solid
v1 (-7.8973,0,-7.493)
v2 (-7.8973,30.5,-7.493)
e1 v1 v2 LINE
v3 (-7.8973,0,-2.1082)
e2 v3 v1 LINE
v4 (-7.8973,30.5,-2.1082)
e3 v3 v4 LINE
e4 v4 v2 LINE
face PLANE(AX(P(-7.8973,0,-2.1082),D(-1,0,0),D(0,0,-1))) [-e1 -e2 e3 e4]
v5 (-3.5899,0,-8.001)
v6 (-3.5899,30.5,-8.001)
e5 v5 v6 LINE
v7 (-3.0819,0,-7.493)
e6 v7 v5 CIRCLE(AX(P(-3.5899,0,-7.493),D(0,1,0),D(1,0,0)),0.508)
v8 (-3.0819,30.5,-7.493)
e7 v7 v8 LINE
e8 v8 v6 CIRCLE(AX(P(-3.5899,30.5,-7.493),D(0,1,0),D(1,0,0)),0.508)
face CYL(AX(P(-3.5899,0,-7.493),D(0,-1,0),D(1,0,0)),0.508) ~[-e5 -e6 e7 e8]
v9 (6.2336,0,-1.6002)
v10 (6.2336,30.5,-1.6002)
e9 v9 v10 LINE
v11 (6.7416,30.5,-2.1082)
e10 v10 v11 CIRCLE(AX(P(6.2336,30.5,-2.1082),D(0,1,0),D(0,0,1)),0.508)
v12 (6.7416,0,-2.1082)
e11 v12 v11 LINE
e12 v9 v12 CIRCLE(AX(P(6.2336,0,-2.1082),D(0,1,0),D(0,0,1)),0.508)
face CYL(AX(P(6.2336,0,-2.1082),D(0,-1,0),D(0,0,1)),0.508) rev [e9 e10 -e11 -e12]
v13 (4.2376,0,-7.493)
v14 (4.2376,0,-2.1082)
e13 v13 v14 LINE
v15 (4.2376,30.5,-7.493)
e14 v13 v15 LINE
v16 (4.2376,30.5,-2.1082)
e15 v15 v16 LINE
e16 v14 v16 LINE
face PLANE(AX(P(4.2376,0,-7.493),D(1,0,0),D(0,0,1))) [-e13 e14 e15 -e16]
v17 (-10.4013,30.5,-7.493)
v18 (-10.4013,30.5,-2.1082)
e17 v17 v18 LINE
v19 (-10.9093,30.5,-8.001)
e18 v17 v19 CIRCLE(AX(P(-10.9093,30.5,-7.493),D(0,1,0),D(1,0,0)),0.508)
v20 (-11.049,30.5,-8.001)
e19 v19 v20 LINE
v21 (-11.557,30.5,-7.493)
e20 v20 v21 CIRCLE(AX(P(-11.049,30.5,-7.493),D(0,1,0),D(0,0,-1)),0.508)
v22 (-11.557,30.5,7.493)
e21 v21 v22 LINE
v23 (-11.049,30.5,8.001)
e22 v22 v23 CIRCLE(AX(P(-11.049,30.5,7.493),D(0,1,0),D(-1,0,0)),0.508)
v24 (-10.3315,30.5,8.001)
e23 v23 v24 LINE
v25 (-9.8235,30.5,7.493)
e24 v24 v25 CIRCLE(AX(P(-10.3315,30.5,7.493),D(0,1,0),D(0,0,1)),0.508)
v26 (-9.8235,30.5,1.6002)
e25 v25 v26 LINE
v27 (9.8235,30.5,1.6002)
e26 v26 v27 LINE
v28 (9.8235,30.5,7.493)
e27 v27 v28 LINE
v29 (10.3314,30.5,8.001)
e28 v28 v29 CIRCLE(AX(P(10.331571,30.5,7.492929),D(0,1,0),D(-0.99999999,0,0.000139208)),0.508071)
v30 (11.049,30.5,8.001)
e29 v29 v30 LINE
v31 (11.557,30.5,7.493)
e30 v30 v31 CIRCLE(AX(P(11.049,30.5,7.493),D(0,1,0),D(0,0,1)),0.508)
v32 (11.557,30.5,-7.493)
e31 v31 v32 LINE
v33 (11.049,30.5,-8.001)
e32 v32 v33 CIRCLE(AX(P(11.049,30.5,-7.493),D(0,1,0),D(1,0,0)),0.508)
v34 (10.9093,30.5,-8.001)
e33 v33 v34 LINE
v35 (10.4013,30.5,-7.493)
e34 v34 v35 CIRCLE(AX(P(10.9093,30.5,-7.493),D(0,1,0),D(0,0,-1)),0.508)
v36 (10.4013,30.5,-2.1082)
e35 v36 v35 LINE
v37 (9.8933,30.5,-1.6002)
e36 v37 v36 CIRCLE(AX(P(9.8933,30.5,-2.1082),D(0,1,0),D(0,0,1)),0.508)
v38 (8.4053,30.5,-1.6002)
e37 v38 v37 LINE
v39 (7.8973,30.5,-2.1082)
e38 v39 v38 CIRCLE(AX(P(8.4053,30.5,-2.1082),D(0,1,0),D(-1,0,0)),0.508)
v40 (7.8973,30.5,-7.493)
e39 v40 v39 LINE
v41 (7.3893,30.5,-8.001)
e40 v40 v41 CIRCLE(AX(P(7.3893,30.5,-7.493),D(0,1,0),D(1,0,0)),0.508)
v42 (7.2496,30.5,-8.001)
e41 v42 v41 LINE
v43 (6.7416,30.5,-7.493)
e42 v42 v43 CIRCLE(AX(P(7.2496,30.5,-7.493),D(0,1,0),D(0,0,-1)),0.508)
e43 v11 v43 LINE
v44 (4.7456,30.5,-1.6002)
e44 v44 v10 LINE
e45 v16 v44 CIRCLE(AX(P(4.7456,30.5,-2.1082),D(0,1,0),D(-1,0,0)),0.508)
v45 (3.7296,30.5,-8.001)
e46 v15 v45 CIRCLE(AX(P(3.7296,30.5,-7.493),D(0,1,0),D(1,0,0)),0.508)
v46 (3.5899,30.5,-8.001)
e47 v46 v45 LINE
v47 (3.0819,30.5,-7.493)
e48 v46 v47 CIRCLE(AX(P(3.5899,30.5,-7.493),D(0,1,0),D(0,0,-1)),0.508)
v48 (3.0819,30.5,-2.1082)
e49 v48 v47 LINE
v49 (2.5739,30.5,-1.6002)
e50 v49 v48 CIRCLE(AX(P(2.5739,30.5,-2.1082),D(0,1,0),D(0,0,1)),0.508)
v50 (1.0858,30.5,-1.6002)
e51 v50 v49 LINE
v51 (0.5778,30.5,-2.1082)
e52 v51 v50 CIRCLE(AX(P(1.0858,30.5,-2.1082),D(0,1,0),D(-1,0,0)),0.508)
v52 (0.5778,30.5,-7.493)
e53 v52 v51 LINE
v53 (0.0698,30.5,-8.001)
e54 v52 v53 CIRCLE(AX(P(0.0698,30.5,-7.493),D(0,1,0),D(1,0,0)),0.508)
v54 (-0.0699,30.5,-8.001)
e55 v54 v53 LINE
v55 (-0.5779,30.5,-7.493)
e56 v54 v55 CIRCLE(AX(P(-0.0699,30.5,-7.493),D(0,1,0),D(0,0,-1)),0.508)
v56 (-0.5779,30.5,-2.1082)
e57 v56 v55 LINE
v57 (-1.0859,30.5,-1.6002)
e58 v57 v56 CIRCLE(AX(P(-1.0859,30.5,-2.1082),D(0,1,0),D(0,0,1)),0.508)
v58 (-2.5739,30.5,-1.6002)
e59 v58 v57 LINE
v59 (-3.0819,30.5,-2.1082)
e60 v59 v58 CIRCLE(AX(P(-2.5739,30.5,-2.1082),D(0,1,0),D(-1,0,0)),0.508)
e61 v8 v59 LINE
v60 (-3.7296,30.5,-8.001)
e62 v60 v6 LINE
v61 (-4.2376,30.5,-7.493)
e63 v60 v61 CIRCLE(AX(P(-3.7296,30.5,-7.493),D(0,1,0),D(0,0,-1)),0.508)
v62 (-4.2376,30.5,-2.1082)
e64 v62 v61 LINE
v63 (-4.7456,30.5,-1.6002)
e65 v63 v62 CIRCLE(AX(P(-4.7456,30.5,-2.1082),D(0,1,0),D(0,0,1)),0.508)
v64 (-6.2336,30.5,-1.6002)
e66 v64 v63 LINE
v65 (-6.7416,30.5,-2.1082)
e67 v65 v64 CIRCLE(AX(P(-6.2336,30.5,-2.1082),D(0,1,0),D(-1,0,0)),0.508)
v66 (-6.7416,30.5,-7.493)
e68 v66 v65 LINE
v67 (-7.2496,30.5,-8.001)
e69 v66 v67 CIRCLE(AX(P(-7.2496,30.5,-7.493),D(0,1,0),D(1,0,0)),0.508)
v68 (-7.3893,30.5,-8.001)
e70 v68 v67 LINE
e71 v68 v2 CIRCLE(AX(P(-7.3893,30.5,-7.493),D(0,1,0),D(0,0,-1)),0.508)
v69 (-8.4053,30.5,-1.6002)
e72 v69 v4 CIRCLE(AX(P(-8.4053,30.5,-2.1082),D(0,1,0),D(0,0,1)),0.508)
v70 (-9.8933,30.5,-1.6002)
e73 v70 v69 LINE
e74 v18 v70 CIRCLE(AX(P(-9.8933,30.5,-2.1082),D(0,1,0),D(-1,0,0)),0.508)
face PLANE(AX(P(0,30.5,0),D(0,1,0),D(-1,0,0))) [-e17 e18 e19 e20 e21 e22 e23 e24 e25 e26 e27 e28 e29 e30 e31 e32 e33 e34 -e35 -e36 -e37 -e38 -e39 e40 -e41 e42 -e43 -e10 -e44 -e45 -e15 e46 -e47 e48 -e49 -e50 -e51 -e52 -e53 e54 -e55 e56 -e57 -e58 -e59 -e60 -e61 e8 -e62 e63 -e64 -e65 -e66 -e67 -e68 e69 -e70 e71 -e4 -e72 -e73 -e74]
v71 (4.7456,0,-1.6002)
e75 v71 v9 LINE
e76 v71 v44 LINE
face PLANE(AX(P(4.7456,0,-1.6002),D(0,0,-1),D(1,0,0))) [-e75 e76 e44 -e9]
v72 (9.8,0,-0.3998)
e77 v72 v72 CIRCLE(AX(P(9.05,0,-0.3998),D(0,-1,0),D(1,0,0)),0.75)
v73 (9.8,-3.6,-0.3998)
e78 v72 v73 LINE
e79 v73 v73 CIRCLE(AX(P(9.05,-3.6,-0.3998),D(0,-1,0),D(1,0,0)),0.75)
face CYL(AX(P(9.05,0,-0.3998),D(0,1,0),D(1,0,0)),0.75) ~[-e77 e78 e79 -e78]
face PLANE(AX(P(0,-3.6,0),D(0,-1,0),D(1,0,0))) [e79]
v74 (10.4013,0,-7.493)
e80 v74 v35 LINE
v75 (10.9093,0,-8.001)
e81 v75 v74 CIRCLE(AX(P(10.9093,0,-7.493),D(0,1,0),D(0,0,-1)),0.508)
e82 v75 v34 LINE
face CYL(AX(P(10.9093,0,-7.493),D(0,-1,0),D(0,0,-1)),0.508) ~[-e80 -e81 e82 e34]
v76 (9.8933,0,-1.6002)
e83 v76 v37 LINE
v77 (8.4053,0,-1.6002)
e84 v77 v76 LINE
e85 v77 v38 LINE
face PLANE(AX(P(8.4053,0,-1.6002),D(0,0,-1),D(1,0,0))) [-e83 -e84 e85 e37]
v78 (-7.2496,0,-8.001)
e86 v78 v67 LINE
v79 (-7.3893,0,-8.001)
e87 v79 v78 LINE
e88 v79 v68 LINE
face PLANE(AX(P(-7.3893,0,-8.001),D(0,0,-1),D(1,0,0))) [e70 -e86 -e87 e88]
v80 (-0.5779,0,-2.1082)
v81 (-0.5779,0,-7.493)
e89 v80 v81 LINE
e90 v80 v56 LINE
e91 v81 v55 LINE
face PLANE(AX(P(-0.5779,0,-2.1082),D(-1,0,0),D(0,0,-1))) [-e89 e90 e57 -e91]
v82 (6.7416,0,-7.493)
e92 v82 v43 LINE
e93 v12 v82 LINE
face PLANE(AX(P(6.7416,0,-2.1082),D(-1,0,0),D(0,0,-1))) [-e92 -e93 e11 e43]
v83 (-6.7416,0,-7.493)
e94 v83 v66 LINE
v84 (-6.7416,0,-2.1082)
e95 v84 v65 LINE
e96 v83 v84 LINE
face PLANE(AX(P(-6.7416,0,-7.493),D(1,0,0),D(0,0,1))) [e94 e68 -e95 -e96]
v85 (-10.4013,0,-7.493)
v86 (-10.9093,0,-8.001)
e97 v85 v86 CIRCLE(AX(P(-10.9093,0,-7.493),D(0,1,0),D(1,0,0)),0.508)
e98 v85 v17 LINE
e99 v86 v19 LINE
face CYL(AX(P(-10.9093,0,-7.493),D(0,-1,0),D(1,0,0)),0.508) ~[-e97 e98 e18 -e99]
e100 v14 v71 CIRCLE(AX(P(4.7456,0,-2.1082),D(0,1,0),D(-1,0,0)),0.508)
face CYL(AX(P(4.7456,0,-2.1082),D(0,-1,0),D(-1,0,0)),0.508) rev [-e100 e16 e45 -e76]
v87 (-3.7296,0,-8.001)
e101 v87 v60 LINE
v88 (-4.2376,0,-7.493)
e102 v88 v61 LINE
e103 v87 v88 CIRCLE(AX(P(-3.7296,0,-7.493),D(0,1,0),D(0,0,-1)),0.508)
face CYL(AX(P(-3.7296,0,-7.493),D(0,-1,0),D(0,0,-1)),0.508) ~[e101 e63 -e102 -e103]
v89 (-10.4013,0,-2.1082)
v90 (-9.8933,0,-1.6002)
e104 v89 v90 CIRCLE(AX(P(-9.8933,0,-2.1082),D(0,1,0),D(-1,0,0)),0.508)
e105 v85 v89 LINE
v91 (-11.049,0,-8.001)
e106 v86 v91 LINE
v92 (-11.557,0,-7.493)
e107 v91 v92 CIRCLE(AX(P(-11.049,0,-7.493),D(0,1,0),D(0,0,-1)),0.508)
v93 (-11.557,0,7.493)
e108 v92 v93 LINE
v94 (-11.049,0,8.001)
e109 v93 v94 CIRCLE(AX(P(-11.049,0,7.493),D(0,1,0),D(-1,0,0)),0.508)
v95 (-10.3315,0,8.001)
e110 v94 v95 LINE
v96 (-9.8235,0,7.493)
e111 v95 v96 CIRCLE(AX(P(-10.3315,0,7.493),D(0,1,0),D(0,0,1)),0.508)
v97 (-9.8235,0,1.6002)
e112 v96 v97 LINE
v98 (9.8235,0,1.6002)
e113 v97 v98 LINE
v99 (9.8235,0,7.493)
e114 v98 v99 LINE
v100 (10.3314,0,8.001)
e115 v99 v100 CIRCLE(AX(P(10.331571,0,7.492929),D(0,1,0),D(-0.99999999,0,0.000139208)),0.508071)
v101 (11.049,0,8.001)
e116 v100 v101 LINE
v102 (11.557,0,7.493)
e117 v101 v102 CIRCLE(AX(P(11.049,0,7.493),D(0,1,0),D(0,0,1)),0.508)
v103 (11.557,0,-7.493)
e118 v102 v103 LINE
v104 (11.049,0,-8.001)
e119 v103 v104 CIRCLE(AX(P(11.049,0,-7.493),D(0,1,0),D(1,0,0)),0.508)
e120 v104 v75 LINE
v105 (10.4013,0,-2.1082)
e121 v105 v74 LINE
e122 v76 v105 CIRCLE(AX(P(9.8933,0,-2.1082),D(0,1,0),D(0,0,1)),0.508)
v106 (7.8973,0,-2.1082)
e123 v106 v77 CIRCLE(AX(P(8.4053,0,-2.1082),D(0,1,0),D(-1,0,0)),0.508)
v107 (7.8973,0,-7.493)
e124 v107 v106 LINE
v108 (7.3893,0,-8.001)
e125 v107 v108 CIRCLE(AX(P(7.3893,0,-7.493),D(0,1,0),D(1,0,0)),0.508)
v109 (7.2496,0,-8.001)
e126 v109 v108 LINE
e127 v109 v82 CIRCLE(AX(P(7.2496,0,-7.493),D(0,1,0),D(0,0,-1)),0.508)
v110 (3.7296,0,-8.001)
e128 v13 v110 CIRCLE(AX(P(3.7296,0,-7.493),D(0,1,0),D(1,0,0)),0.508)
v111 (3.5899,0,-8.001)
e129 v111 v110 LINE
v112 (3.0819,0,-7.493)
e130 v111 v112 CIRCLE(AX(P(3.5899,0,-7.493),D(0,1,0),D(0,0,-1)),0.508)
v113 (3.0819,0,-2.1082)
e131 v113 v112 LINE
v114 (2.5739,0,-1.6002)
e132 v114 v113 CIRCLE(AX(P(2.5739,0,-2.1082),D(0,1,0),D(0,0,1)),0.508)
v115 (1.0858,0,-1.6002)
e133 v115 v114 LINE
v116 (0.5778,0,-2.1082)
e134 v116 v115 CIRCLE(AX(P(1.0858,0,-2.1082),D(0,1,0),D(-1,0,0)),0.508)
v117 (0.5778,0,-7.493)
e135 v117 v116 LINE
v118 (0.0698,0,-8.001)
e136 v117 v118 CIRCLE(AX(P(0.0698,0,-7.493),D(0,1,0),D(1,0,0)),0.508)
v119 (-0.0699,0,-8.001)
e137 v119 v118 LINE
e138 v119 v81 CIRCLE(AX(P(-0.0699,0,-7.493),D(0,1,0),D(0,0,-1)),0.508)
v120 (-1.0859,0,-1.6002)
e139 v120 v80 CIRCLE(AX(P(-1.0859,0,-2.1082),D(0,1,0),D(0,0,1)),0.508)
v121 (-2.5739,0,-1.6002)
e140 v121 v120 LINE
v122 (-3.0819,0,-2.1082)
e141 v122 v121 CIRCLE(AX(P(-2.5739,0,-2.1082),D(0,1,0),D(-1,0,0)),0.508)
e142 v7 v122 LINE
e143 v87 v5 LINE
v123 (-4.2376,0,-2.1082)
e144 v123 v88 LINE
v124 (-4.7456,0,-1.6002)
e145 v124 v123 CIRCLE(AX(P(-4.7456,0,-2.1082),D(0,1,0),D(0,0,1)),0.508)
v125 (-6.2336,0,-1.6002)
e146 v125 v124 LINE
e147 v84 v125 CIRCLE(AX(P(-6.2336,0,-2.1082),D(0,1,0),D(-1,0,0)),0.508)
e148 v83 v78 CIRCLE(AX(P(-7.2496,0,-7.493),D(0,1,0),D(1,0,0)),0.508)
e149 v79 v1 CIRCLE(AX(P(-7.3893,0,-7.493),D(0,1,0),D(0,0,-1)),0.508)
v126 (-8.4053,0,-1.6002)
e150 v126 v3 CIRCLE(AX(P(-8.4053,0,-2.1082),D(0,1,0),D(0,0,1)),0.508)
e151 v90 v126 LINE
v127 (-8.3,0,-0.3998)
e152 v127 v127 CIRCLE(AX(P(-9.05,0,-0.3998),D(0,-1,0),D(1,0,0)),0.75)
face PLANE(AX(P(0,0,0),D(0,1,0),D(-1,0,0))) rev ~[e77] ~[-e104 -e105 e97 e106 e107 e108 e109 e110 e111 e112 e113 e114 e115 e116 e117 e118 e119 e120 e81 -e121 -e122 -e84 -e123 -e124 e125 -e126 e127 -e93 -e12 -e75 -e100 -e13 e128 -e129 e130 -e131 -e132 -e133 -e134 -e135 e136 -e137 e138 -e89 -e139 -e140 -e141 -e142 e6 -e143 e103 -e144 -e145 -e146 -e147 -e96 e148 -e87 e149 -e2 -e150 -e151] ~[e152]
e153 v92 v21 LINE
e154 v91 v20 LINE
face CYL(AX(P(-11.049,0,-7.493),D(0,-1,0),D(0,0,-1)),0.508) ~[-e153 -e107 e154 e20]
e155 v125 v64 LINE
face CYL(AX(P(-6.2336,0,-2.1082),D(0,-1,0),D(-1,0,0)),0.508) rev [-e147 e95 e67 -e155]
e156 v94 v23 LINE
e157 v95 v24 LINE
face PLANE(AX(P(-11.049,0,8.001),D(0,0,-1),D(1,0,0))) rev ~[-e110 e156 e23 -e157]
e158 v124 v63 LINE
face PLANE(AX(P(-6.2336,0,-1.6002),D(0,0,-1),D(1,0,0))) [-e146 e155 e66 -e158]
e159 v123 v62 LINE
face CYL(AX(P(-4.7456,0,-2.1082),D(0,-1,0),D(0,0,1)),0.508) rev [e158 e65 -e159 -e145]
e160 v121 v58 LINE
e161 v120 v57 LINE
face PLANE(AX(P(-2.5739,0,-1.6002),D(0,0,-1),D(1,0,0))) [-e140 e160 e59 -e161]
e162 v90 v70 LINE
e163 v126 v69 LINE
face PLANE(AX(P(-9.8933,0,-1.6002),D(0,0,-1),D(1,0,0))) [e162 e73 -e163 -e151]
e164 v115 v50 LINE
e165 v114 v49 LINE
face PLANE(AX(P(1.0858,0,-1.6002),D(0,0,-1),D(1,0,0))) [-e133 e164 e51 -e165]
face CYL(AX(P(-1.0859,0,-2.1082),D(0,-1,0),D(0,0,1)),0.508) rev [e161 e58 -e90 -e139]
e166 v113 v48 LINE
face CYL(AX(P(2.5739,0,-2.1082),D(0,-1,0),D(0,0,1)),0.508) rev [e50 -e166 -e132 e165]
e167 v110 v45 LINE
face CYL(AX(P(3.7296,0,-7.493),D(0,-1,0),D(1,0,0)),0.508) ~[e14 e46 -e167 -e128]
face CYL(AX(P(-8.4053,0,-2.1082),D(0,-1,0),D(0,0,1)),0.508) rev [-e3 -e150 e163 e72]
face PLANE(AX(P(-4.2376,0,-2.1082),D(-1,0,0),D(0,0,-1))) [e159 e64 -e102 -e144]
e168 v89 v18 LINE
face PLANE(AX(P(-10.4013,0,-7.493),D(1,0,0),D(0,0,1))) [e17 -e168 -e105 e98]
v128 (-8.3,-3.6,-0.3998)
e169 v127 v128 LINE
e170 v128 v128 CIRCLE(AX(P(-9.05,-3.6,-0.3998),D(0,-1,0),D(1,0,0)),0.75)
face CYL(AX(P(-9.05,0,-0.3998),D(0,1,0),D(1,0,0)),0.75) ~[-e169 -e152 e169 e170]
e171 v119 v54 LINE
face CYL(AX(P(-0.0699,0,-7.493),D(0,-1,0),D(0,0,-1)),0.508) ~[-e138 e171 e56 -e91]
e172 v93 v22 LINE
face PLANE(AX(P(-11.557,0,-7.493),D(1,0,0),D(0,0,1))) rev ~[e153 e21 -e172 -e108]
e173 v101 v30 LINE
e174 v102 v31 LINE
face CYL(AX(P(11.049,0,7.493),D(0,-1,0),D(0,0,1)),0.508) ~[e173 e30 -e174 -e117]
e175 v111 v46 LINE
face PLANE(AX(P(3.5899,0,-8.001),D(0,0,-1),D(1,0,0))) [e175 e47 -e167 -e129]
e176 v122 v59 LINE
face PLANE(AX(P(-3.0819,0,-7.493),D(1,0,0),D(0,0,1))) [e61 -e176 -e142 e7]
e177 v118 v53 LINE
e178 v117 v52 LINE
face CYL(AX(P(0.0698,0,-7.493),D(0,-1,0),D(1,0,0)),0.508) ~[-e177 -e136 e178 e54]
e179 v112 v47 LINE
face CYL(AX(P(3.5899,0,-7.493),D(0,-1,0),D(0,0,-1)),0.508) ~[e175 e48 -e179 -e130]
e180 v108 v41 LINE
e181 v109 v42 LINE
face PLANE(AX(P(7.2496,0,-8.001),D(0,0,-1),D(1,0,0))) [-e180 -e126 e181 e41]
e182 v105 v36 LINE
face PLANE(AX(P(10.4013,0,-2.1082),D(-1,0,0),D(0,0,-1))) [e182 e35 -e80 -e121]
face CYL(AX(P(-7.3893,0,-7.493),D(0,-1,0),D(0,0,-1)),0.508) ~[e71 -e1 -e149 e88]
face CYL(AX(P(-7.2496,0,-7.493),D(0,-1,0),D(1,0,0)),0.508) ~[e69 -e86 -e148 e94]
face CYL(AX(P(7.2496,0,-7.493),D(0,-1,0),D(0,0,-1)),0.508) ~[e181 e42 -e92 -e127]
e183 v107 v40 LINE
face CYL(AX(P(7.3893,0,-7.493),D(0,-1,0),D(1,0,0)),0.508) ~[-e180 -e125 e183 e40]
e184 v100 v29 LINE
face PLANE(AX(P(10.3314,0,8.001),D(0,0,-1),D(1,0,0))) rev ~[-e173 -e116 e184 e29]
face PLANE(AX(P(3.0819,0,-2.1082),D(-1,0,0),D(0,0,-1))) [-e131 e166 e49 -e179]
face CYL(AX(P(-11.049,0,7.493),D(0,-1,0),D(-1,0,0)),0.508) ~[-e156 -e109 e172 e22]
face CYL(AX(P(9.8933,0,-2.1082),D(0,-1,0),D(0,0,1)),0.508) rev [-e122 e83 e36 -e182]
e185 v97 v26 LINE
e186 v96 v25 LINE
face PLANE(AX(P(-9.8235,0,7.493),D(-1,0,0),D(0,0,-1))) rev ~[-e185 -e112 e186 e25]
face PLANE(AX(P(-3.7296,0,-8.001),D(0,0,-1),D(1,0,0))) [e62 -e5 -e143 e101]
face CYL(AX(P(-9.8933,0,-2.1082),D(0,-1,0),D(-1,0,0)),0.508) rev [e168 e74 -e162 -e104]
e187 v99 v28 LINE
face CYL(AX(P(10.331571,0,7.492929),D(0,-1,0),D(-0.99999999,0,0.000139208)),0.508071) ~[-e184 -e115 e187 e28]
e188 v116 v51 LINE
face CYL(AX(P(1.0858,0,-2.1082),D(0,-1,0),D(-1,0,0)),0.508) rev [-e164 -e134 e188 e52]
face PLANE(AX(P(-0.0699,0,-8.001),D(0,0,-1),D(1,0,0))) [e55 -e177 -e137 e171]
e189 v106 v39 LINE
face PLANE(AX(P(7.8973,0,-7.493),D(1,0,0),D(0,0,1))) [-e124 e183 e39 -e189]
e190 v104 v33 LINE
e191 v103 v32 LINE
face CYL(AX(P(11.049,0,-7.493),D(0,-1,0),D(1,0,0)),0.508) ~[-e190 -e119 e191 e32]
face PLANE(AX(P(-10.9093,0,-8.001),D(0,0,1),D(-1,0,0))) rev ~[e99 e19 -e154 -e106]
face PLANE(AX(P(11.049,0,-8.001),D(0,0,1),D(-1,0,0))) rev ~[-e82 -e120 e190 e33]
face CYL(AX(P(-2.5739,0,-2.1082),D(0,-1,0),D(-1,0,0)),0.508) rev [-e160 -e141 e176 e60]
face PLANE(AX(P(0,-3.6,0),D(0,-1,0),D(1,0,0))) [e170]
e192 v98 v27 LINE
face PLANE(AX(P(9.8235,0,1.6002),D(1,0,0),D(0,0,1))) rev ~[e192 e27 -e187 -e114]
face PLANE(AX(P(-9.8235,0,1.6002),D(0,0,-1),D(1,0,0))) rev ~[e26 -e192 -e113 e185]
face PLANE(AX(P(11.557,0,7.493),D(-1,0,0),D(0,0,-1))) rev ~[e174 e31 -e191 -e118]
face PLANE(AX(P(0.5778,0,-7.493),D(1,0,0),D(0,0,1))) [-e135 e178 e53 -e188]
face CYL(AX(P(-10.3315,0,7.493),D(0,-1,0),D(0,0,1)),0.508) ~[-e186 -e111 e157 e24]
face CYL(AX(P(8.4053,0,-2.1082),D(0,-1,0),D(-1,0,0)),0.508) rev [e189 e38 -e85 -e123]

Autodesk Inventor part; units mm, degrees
ref_plane "YZ Plane" through (0, 0, 0) normal (1, 0, 0) x (0, 1, 0)
ref_plane "XZ Plane" through (0, 0, 0) normal (0, 1, 0) x (-1, 0, 0)
ref_plane "Work Plane1" through (-9.8235, 15.24, 1.6002) normal (0, 1, 0) x (1, 0, 0)
sketch "Sketch1" plane through (-9.8235, 15.24, 1.6002) normal (0, 1, 0) x (1, 0, 0)
  line L0 (-1.2255, -6.4008) -> (-0.508, -6.4008)
  arc A0 (-1.7335, -5.8928) -> (-1.2255, -6.4008) centre (-1.2255, -5.8928) ccw
  line L1 (-1.7335, 9.0932) -> (-1.7335, -5.8928)
  arc A1 (-0.508, -6.4008) -> (0, -5.8928) centre (-0.508, -5.8928) ccw
  line L2 (0, -5.8928) -> (0, 0)
  line L3 (-1.0858, 9.6012) -> (-1.2256, 9.6012)
  arc A2 (-0.5778, 9.0932) -> (-1.0858, 9.6012) centre (-1.0858, 9.0932) ccw
  line L4 (0, 0) -> (19.6469, 0)
  line L5 (19.6469, 0) -> (19.6469, -5.8928)
  arc A3 (19.6469, -5.8928) -> (20.1549, -6.4008) centre (20.1549, -5.8928) ccw
  line L6 (20.1549, -6.4008) -> (20.8725, -6.4008)
  arc A4 (20.8725, -6.4008) -> (21.3804, -5.8928) centre (20.8725, -5.8928) ccw
  line L7 (21.3804, -5.8928) -> (21.3804, 9.0932)
  arc A5 (21.3804, 9.0932) -> (20.8725, 9.6012) centre (20.8725, 9.0932) ccw
  arc A6 (20.7327, 9.6012) -> (20.2247, 9.0932) centre (20.7327, 9.0932) ccw
  line L8 (20.8725, 9.6012) -> (20.7327, 9.6012)
  line L9 (-0.5778, 9.0932) -> (-0.5778, 3.7084)
  arc A7 (-0.5778, 3.7084) -> (-0.0698, 3.2004) centre (-0.0698, 3.7084) ccw
  line L10 (-0.0698, 3.2004) -> (1.4182, 3.2004)
  arc A8 (1.4182, 3.2004) -> (1.9262, 3.7084) centre (1.4182, 3.7084) ccw
  line L11 (1.9262, 3.7084) -> (1.9262, 9.0932)
  arc A9 (-0.5778, 9.0932) -> (-1.0858, 9.6012) centre (-1.0859, 9.0932) ccw
  arc A10 (-1.2256, 9.6012) -> (-1.7335, 9.0932) centre (-1.2256, 9.0932) ccw
  line L12 (-1.2256, 9.6012) -> (-1.0858, 9.6012)
  arc A11 (2.4342, 9.6012) -> (1.9262, 9.0932) centre (2.4342, 9.0932) ccw
  line L13 (2.4342, 9.6012) -> (2.5739, 9.6012)
  arc A12 (3.0819, 9.0932) -> (2.5739, 9.6012) centre (2.5739, 9.0932) ccw
  line L14 (3.0819, 9.0932) -> (3.0819, 3.7084)
  arc A13 (3.0819, 3.7084) -> (3.5899, 3.2004) centre (3.5899, 3.7084) ccw
  line L15 (3.5899, 3.2004) -> (5.0779, 3.2004)
  arc A14 (5.0779, 3.2004) -> (5.5859, 3.7084) centre (5.0779, 3.7084) ccw
  line L16 (5.5859, 3.7084) -> (5.5859, 9.0932)
  arc A15 (6.0939, 9.6012) -> (5.5859, 9.0932) centre (6.0939, 9.0932) ccw
  line L17 (6.0939, 9.6012) -> (6.2336, 9.6012)
  arc A16 (6.7416, 9.0932) -> (6.2336, 9.6012) centre (6.2336, 9.0932) ccw
  line L18 (6.7416, 9.0932) -> (6.7416, 3.7084)
  arc A17 (6.7416, 3.7084) -> (7.2496, 3.2004) centre (7.2496, 3.7084) ccw
  line L19 (7.2496, 3.2004) -> (8.7376, 3.2004)
  arc A18 (8.7376, 3.2004) -> (9.2456, 3.7084) centre (8.7376, 3.7084) ccw
  line L20 (9.2456, 3.7084) -> (9.2456, 9.0932)
  arc A19 (9.7536, 9.6012) -> (9.2456, 9.0932) centre (9.7536, 9.0932) ccw
  line L21 (9.7536, 9.6012) -> (9.8933, 9.6012)
  arc A20 (10.4013, 9.0932) -> (9.8933, 9.6012) centre (9.8933, 9.0932) ccw
  line L22 (10.4013, 9.0932) -> (10.4013, 3.7084)
  arc A21 (10.4013, 3.7084) -> (10.9093, 3.2004) centre (10.9093, 3.7084) ccw
  line L23 (10.9093, 3.2004) -> (12.3973, 3.2004)
  arc A22 (12.3973, 3.2004) -> (12.9053, 3.7084) centre (12.3973, 3.7084) ccw
  line L24 (12.9053, 3.7084) -> (12.9053, 9.0932)
  arc A23 (13.4133, 9.6012) -> (12.9053, 9.0932) centre (13.4133, 9.0932) ccw
  line L25 (13.4133, 9.6012) -> (13.553, 9.6012)
  arc A24 (14.061, 9.0932) -> (13.553, 9.6012) centre (13.553, 9.0932) ccw
  line L26 (14.061, 9.0932) -> (14.061, 3.7084)
  arc A25 (14.061, 3.7084) -> (14.569, 3.2004) centre (14.569, 3.7084) ccw
  line L27 (14.569, 3.2004) -> (16.057, 3.2004)
  arc A26 (16.057, 3.2004) -> (16.565, 3.7084) centre (16.057, 3.7084) ccw
  line L28 (16.565, 3.7084) -> (16.565, 9.0932)
  arc A27 (17.073, 9.6012) -> (16.565, 9.0932) centre (17.073, 9.0932) ccw
  line L29 (17.073, 9.6012) -> (17.2127, 9.6012)
  arc A28 (17.7207, 9.0932) -> (17.2127, 9.6012) centre (17.2127, 9.0932) ccw
  line L30 (17.7207, 9.0932) -> (17.7207, 3.7084)
  arc A29 (17.7207, 3.7084) -> (18.2287, 3.2004) centre (18.2287, 3.7084) ccw
  line L31 (18.2287, 3.2004) -> (19.7167, 3.2004)
  arc A30 (19.7167, 3.2004) -> (20.2247, 3.7084) centre (19.7167, 3.7084) ccw
  line L32 (20.2247, 3.7084) -> (20.2247, 9.0932)
  dimension "d0" = 21.9583
  dimension "d1" = 3.6597
sketch "Sketch2" plane through (0, 0, 0) normal (0, 1, 0) x (-1, 0, 0)
  line L0 (-9.8235, 1.6002) -> (-9.8235, 7.493) projected
  arc A0 (-9.8235, 7.493) -> (-10.3314, 8.001) centre (-10.3314, 7.493) ccw projected
  line L1 (-10.3314, 8.001) -> (-11.049, 8.001) projected
  arc A1 (-11.049, 8.001) -> (-11.557, 7.493) centre (-11.049, 7.493) ccw projected
  line L2 (-11.557, 7.493) -> (-11.557, -7.493) projected
  arc A2 (-11.557, -7.493) -> (-11.049, -8.001) centre (-11.049, -7.493) ccw projected
  arc A3 (-10.9093, -8.001) -> (-10.4013, -7.493) centre (-10.9093, -7.493) ccw projected
  line L3 (-10.4013, -2.1082) -> (-10.4013, -7.493) projected
  arc A4 (-9.8933, -1.6002) -> (-10.4013, -2.1082) centre (-9.8933, -2.1082) ccw projected
  line L4 (-8.4053, -1.6002) -> (-9.8933, -1.6002) projected
  line L5 (-11.049, -8.001) -> (-10.9093, -8.001) projected
  arc A5 (-7.8973, -2.1082) -> (-8.4053, -1.6002) centre (-8.4053, -2.1082) ccw projected
  line L6 (-7.8973, -7.493) -> (-7.8973, -2.1082) projected
  arc A6 (-7.8973, -7.493) -> (-7.3893, -8.001) centre (-7.3893, -7.493) ccw projected
  line L7 (-7.2496, -8.001) -> (-7.3893, -8.001) projected
  arc A7 (-7.2496, -8.001) -> (-6.7416, -7.493) centre (-7.2496, -7.493) ccw projected
  line L8 (-6.7416, -2.1082) -> (-6.7416, -7.493) projected
  arc A8 (-6.2336, -1.6002) -> (-6.7416, -2.1082) centre (-6.2336, -2.1082) ccw projected
  line L9 (-4.7456, -1.6002) -> (-6.2336, -1.6002) projected
  arc A9 (-4.2376, -2.1082) -> (-4.7456, -1.6002) centre (-4.7456, -2.1082) ccw projected
  line L10 (-4.2376, -7.493) -> (-4.2376, -2.1082) projected
  arc A10 (-4.2376, -7.493) -> (-3.7296, -8.001) centre (-3.7296, -7.493) ccw projected
  line L11 (-3.5899, -8.001) -> (-3.7296, -8.001) projected
  arc A11 (-3.5899, -8.001) -> (-3.0819, -7.493) centre (-3.5899, -7.493) ccw projected
  line L12 (-3.0819, -2.1082) -> (-3.0819, -7.493) projected
  arc A12 (-2.5739, -1.6002) -> (-3.0819, -2.1082) centre (-2.5739, -2.1082) ccw projected
  line L13 (-1.0858, -1.6002) -> (-2.5739, -1.6002) projected
  arc A13 (-0.5778, -2.1082) -> (-1.0858, -1.6002) centre (-1.0858, -2.1082) ccw projected
  line L14 (-0.5778, -7.493) -> (-0.5778, -2.1082) projected
  arc A14 (-0.5778, -7.493) -> (-0.0698, -8.001) centre (-0.0698, -7.493) ccw projected
  line L15 (0.0699, -8.001) -> (-0.0698, -8.001) projected
  arc A15 (0.0699, -8.001) -> (0.5779, -7.493) centre (0.0699, -7.493) ccw projected
  line L16 (0.5779, -2.1082) -> (0.5779, -7.493) projected
  arc A16 (1.0859, -1.6002) -> (0.5779, -2.1082) centre (1.0859, -2.1082) ccw projected
  line L17 (2.5739, -1.6002) -> (1.0859, -1.6002) projected
  arc A17 (3.0819, -2.1082) -> (2.5739, -1.6002) centre (2.5739, -2.1082) ccw projected
  line L18 (3.0819, -7.493) -> (3.0819, -2.1082) projected
  arc A18 (3.0819, -7.493) -> (3.5899, -8.001) centre (3.5899, -7.493) ccw projected
  line L19 (3.7296, -8.001) -> (3.5899, -8.001) projected
  arc A19 (3.7296, -8.001) -> (4.2376, -7.493) centre (3.7296, -7.493) ccw projected
  line L20 (4.2376, -2.1082) -> (4.2376, -7.493) projected
  arc A20 (4.7456, -1.6002) -> (4.2376, -2.1082) centre (4.7456, -2.1082) ccw projected
  line L21 (6.2336, -1.6002) -> (4.7456, -1.6002) projected
  arc A21 (6.7416, -2.1082) -> (6.2336, -1.6002) centre (6.2336, -2.1082) ccw projected
  line L22 (6.7416, -7.493) -> (6.7416, -2.1082) projected
  arc A22 (6.7416, -7.493) -> (7.2496, -8.001) centre (7.2496, -7.493) ccw projected
  line L23 (7.3893, -8.001) -> (7.2496, -8.001) projected
  arc A23 (7.3893, -8.001) -> (7.8973, -7.493) centre (7.3893, -7.493) ccw projected
  line L24 (7.8973, -2.1082) -> (7.8973, -7.493) projected
  arc A24 (8.4053, -1.6002) -> (7.8973, -2.1082) centre (8.4053, -2.1082) ccw projected
  line L25 (9.8933, -1.6002) -> (8.4053, -1.6002) projected
  arc A25 (10.4013, -2.1082) -> (9.8933, -1.6002) centre (9.8933, -2.1082) ccw projected
  line L26 (10.4013, -7.493) -> (10.4013, -2.1082) projected
  arc A26 (10.4013, -7.493) -> (10.9093, -8.001) centre (10.9093, -7.493) ccw projected
  line L27 (10.9093, -8.001) -> (11.049, -8.001) projected
  arc A27 (11.049, -8.001) -> (11.557, -7.493) centre (11.049, -7.493) ccw projected
  line L28 (11.557, -7.493) -> (11.557, 7.493) projected
  arc A28 (11.557, 7.493) -> (11.049, 8.001) centre (11.049, 7.493) ccw projected
  line L29 (11.049, 8.001) -> (10.3315, 8.001) projected
  arc A29 (10.3315, 8.001) -> (9.8235, 7.493) centre (10.3315, 7.493) ccw projected
  line L30 (9.8235, 7.493) -> (9.8235, 1.6002) projected
  line L31 (9.8235, 1.6002) -> (-9.8235, 1.6002) projected
  point P0 (0, 0)
extrude "Extrusion1" add sketch "Sketch2" along normal blind 30.5
sketch "Sketch3" plane through (0, 0, 0) normal (0, -1, 0) x (1, 0, 0)
  line L0 (-9.8235, 1.6002) -> (9.8235, 1.6002) construction
  circle A0 centre (9.05, -0.3998) radius 0.75
  circle A1 centre (-9.05, -0.3998) radius 0.75
  line L1 (9.05, -0.3998) -> (0, 0) construction
  line L2 (0, 0) -> (-9.05, -0.3998) construction
  dimension "d11" = 1.5
  dimension "d12" = 2
  dimension "d13" = 18.1
extrude "Extrusion2" add sketch "Sketch3" along normal blind 3.6
equation "\"d1\" = 0.166667 * d0"
properties part number "WA-T247-101E"
